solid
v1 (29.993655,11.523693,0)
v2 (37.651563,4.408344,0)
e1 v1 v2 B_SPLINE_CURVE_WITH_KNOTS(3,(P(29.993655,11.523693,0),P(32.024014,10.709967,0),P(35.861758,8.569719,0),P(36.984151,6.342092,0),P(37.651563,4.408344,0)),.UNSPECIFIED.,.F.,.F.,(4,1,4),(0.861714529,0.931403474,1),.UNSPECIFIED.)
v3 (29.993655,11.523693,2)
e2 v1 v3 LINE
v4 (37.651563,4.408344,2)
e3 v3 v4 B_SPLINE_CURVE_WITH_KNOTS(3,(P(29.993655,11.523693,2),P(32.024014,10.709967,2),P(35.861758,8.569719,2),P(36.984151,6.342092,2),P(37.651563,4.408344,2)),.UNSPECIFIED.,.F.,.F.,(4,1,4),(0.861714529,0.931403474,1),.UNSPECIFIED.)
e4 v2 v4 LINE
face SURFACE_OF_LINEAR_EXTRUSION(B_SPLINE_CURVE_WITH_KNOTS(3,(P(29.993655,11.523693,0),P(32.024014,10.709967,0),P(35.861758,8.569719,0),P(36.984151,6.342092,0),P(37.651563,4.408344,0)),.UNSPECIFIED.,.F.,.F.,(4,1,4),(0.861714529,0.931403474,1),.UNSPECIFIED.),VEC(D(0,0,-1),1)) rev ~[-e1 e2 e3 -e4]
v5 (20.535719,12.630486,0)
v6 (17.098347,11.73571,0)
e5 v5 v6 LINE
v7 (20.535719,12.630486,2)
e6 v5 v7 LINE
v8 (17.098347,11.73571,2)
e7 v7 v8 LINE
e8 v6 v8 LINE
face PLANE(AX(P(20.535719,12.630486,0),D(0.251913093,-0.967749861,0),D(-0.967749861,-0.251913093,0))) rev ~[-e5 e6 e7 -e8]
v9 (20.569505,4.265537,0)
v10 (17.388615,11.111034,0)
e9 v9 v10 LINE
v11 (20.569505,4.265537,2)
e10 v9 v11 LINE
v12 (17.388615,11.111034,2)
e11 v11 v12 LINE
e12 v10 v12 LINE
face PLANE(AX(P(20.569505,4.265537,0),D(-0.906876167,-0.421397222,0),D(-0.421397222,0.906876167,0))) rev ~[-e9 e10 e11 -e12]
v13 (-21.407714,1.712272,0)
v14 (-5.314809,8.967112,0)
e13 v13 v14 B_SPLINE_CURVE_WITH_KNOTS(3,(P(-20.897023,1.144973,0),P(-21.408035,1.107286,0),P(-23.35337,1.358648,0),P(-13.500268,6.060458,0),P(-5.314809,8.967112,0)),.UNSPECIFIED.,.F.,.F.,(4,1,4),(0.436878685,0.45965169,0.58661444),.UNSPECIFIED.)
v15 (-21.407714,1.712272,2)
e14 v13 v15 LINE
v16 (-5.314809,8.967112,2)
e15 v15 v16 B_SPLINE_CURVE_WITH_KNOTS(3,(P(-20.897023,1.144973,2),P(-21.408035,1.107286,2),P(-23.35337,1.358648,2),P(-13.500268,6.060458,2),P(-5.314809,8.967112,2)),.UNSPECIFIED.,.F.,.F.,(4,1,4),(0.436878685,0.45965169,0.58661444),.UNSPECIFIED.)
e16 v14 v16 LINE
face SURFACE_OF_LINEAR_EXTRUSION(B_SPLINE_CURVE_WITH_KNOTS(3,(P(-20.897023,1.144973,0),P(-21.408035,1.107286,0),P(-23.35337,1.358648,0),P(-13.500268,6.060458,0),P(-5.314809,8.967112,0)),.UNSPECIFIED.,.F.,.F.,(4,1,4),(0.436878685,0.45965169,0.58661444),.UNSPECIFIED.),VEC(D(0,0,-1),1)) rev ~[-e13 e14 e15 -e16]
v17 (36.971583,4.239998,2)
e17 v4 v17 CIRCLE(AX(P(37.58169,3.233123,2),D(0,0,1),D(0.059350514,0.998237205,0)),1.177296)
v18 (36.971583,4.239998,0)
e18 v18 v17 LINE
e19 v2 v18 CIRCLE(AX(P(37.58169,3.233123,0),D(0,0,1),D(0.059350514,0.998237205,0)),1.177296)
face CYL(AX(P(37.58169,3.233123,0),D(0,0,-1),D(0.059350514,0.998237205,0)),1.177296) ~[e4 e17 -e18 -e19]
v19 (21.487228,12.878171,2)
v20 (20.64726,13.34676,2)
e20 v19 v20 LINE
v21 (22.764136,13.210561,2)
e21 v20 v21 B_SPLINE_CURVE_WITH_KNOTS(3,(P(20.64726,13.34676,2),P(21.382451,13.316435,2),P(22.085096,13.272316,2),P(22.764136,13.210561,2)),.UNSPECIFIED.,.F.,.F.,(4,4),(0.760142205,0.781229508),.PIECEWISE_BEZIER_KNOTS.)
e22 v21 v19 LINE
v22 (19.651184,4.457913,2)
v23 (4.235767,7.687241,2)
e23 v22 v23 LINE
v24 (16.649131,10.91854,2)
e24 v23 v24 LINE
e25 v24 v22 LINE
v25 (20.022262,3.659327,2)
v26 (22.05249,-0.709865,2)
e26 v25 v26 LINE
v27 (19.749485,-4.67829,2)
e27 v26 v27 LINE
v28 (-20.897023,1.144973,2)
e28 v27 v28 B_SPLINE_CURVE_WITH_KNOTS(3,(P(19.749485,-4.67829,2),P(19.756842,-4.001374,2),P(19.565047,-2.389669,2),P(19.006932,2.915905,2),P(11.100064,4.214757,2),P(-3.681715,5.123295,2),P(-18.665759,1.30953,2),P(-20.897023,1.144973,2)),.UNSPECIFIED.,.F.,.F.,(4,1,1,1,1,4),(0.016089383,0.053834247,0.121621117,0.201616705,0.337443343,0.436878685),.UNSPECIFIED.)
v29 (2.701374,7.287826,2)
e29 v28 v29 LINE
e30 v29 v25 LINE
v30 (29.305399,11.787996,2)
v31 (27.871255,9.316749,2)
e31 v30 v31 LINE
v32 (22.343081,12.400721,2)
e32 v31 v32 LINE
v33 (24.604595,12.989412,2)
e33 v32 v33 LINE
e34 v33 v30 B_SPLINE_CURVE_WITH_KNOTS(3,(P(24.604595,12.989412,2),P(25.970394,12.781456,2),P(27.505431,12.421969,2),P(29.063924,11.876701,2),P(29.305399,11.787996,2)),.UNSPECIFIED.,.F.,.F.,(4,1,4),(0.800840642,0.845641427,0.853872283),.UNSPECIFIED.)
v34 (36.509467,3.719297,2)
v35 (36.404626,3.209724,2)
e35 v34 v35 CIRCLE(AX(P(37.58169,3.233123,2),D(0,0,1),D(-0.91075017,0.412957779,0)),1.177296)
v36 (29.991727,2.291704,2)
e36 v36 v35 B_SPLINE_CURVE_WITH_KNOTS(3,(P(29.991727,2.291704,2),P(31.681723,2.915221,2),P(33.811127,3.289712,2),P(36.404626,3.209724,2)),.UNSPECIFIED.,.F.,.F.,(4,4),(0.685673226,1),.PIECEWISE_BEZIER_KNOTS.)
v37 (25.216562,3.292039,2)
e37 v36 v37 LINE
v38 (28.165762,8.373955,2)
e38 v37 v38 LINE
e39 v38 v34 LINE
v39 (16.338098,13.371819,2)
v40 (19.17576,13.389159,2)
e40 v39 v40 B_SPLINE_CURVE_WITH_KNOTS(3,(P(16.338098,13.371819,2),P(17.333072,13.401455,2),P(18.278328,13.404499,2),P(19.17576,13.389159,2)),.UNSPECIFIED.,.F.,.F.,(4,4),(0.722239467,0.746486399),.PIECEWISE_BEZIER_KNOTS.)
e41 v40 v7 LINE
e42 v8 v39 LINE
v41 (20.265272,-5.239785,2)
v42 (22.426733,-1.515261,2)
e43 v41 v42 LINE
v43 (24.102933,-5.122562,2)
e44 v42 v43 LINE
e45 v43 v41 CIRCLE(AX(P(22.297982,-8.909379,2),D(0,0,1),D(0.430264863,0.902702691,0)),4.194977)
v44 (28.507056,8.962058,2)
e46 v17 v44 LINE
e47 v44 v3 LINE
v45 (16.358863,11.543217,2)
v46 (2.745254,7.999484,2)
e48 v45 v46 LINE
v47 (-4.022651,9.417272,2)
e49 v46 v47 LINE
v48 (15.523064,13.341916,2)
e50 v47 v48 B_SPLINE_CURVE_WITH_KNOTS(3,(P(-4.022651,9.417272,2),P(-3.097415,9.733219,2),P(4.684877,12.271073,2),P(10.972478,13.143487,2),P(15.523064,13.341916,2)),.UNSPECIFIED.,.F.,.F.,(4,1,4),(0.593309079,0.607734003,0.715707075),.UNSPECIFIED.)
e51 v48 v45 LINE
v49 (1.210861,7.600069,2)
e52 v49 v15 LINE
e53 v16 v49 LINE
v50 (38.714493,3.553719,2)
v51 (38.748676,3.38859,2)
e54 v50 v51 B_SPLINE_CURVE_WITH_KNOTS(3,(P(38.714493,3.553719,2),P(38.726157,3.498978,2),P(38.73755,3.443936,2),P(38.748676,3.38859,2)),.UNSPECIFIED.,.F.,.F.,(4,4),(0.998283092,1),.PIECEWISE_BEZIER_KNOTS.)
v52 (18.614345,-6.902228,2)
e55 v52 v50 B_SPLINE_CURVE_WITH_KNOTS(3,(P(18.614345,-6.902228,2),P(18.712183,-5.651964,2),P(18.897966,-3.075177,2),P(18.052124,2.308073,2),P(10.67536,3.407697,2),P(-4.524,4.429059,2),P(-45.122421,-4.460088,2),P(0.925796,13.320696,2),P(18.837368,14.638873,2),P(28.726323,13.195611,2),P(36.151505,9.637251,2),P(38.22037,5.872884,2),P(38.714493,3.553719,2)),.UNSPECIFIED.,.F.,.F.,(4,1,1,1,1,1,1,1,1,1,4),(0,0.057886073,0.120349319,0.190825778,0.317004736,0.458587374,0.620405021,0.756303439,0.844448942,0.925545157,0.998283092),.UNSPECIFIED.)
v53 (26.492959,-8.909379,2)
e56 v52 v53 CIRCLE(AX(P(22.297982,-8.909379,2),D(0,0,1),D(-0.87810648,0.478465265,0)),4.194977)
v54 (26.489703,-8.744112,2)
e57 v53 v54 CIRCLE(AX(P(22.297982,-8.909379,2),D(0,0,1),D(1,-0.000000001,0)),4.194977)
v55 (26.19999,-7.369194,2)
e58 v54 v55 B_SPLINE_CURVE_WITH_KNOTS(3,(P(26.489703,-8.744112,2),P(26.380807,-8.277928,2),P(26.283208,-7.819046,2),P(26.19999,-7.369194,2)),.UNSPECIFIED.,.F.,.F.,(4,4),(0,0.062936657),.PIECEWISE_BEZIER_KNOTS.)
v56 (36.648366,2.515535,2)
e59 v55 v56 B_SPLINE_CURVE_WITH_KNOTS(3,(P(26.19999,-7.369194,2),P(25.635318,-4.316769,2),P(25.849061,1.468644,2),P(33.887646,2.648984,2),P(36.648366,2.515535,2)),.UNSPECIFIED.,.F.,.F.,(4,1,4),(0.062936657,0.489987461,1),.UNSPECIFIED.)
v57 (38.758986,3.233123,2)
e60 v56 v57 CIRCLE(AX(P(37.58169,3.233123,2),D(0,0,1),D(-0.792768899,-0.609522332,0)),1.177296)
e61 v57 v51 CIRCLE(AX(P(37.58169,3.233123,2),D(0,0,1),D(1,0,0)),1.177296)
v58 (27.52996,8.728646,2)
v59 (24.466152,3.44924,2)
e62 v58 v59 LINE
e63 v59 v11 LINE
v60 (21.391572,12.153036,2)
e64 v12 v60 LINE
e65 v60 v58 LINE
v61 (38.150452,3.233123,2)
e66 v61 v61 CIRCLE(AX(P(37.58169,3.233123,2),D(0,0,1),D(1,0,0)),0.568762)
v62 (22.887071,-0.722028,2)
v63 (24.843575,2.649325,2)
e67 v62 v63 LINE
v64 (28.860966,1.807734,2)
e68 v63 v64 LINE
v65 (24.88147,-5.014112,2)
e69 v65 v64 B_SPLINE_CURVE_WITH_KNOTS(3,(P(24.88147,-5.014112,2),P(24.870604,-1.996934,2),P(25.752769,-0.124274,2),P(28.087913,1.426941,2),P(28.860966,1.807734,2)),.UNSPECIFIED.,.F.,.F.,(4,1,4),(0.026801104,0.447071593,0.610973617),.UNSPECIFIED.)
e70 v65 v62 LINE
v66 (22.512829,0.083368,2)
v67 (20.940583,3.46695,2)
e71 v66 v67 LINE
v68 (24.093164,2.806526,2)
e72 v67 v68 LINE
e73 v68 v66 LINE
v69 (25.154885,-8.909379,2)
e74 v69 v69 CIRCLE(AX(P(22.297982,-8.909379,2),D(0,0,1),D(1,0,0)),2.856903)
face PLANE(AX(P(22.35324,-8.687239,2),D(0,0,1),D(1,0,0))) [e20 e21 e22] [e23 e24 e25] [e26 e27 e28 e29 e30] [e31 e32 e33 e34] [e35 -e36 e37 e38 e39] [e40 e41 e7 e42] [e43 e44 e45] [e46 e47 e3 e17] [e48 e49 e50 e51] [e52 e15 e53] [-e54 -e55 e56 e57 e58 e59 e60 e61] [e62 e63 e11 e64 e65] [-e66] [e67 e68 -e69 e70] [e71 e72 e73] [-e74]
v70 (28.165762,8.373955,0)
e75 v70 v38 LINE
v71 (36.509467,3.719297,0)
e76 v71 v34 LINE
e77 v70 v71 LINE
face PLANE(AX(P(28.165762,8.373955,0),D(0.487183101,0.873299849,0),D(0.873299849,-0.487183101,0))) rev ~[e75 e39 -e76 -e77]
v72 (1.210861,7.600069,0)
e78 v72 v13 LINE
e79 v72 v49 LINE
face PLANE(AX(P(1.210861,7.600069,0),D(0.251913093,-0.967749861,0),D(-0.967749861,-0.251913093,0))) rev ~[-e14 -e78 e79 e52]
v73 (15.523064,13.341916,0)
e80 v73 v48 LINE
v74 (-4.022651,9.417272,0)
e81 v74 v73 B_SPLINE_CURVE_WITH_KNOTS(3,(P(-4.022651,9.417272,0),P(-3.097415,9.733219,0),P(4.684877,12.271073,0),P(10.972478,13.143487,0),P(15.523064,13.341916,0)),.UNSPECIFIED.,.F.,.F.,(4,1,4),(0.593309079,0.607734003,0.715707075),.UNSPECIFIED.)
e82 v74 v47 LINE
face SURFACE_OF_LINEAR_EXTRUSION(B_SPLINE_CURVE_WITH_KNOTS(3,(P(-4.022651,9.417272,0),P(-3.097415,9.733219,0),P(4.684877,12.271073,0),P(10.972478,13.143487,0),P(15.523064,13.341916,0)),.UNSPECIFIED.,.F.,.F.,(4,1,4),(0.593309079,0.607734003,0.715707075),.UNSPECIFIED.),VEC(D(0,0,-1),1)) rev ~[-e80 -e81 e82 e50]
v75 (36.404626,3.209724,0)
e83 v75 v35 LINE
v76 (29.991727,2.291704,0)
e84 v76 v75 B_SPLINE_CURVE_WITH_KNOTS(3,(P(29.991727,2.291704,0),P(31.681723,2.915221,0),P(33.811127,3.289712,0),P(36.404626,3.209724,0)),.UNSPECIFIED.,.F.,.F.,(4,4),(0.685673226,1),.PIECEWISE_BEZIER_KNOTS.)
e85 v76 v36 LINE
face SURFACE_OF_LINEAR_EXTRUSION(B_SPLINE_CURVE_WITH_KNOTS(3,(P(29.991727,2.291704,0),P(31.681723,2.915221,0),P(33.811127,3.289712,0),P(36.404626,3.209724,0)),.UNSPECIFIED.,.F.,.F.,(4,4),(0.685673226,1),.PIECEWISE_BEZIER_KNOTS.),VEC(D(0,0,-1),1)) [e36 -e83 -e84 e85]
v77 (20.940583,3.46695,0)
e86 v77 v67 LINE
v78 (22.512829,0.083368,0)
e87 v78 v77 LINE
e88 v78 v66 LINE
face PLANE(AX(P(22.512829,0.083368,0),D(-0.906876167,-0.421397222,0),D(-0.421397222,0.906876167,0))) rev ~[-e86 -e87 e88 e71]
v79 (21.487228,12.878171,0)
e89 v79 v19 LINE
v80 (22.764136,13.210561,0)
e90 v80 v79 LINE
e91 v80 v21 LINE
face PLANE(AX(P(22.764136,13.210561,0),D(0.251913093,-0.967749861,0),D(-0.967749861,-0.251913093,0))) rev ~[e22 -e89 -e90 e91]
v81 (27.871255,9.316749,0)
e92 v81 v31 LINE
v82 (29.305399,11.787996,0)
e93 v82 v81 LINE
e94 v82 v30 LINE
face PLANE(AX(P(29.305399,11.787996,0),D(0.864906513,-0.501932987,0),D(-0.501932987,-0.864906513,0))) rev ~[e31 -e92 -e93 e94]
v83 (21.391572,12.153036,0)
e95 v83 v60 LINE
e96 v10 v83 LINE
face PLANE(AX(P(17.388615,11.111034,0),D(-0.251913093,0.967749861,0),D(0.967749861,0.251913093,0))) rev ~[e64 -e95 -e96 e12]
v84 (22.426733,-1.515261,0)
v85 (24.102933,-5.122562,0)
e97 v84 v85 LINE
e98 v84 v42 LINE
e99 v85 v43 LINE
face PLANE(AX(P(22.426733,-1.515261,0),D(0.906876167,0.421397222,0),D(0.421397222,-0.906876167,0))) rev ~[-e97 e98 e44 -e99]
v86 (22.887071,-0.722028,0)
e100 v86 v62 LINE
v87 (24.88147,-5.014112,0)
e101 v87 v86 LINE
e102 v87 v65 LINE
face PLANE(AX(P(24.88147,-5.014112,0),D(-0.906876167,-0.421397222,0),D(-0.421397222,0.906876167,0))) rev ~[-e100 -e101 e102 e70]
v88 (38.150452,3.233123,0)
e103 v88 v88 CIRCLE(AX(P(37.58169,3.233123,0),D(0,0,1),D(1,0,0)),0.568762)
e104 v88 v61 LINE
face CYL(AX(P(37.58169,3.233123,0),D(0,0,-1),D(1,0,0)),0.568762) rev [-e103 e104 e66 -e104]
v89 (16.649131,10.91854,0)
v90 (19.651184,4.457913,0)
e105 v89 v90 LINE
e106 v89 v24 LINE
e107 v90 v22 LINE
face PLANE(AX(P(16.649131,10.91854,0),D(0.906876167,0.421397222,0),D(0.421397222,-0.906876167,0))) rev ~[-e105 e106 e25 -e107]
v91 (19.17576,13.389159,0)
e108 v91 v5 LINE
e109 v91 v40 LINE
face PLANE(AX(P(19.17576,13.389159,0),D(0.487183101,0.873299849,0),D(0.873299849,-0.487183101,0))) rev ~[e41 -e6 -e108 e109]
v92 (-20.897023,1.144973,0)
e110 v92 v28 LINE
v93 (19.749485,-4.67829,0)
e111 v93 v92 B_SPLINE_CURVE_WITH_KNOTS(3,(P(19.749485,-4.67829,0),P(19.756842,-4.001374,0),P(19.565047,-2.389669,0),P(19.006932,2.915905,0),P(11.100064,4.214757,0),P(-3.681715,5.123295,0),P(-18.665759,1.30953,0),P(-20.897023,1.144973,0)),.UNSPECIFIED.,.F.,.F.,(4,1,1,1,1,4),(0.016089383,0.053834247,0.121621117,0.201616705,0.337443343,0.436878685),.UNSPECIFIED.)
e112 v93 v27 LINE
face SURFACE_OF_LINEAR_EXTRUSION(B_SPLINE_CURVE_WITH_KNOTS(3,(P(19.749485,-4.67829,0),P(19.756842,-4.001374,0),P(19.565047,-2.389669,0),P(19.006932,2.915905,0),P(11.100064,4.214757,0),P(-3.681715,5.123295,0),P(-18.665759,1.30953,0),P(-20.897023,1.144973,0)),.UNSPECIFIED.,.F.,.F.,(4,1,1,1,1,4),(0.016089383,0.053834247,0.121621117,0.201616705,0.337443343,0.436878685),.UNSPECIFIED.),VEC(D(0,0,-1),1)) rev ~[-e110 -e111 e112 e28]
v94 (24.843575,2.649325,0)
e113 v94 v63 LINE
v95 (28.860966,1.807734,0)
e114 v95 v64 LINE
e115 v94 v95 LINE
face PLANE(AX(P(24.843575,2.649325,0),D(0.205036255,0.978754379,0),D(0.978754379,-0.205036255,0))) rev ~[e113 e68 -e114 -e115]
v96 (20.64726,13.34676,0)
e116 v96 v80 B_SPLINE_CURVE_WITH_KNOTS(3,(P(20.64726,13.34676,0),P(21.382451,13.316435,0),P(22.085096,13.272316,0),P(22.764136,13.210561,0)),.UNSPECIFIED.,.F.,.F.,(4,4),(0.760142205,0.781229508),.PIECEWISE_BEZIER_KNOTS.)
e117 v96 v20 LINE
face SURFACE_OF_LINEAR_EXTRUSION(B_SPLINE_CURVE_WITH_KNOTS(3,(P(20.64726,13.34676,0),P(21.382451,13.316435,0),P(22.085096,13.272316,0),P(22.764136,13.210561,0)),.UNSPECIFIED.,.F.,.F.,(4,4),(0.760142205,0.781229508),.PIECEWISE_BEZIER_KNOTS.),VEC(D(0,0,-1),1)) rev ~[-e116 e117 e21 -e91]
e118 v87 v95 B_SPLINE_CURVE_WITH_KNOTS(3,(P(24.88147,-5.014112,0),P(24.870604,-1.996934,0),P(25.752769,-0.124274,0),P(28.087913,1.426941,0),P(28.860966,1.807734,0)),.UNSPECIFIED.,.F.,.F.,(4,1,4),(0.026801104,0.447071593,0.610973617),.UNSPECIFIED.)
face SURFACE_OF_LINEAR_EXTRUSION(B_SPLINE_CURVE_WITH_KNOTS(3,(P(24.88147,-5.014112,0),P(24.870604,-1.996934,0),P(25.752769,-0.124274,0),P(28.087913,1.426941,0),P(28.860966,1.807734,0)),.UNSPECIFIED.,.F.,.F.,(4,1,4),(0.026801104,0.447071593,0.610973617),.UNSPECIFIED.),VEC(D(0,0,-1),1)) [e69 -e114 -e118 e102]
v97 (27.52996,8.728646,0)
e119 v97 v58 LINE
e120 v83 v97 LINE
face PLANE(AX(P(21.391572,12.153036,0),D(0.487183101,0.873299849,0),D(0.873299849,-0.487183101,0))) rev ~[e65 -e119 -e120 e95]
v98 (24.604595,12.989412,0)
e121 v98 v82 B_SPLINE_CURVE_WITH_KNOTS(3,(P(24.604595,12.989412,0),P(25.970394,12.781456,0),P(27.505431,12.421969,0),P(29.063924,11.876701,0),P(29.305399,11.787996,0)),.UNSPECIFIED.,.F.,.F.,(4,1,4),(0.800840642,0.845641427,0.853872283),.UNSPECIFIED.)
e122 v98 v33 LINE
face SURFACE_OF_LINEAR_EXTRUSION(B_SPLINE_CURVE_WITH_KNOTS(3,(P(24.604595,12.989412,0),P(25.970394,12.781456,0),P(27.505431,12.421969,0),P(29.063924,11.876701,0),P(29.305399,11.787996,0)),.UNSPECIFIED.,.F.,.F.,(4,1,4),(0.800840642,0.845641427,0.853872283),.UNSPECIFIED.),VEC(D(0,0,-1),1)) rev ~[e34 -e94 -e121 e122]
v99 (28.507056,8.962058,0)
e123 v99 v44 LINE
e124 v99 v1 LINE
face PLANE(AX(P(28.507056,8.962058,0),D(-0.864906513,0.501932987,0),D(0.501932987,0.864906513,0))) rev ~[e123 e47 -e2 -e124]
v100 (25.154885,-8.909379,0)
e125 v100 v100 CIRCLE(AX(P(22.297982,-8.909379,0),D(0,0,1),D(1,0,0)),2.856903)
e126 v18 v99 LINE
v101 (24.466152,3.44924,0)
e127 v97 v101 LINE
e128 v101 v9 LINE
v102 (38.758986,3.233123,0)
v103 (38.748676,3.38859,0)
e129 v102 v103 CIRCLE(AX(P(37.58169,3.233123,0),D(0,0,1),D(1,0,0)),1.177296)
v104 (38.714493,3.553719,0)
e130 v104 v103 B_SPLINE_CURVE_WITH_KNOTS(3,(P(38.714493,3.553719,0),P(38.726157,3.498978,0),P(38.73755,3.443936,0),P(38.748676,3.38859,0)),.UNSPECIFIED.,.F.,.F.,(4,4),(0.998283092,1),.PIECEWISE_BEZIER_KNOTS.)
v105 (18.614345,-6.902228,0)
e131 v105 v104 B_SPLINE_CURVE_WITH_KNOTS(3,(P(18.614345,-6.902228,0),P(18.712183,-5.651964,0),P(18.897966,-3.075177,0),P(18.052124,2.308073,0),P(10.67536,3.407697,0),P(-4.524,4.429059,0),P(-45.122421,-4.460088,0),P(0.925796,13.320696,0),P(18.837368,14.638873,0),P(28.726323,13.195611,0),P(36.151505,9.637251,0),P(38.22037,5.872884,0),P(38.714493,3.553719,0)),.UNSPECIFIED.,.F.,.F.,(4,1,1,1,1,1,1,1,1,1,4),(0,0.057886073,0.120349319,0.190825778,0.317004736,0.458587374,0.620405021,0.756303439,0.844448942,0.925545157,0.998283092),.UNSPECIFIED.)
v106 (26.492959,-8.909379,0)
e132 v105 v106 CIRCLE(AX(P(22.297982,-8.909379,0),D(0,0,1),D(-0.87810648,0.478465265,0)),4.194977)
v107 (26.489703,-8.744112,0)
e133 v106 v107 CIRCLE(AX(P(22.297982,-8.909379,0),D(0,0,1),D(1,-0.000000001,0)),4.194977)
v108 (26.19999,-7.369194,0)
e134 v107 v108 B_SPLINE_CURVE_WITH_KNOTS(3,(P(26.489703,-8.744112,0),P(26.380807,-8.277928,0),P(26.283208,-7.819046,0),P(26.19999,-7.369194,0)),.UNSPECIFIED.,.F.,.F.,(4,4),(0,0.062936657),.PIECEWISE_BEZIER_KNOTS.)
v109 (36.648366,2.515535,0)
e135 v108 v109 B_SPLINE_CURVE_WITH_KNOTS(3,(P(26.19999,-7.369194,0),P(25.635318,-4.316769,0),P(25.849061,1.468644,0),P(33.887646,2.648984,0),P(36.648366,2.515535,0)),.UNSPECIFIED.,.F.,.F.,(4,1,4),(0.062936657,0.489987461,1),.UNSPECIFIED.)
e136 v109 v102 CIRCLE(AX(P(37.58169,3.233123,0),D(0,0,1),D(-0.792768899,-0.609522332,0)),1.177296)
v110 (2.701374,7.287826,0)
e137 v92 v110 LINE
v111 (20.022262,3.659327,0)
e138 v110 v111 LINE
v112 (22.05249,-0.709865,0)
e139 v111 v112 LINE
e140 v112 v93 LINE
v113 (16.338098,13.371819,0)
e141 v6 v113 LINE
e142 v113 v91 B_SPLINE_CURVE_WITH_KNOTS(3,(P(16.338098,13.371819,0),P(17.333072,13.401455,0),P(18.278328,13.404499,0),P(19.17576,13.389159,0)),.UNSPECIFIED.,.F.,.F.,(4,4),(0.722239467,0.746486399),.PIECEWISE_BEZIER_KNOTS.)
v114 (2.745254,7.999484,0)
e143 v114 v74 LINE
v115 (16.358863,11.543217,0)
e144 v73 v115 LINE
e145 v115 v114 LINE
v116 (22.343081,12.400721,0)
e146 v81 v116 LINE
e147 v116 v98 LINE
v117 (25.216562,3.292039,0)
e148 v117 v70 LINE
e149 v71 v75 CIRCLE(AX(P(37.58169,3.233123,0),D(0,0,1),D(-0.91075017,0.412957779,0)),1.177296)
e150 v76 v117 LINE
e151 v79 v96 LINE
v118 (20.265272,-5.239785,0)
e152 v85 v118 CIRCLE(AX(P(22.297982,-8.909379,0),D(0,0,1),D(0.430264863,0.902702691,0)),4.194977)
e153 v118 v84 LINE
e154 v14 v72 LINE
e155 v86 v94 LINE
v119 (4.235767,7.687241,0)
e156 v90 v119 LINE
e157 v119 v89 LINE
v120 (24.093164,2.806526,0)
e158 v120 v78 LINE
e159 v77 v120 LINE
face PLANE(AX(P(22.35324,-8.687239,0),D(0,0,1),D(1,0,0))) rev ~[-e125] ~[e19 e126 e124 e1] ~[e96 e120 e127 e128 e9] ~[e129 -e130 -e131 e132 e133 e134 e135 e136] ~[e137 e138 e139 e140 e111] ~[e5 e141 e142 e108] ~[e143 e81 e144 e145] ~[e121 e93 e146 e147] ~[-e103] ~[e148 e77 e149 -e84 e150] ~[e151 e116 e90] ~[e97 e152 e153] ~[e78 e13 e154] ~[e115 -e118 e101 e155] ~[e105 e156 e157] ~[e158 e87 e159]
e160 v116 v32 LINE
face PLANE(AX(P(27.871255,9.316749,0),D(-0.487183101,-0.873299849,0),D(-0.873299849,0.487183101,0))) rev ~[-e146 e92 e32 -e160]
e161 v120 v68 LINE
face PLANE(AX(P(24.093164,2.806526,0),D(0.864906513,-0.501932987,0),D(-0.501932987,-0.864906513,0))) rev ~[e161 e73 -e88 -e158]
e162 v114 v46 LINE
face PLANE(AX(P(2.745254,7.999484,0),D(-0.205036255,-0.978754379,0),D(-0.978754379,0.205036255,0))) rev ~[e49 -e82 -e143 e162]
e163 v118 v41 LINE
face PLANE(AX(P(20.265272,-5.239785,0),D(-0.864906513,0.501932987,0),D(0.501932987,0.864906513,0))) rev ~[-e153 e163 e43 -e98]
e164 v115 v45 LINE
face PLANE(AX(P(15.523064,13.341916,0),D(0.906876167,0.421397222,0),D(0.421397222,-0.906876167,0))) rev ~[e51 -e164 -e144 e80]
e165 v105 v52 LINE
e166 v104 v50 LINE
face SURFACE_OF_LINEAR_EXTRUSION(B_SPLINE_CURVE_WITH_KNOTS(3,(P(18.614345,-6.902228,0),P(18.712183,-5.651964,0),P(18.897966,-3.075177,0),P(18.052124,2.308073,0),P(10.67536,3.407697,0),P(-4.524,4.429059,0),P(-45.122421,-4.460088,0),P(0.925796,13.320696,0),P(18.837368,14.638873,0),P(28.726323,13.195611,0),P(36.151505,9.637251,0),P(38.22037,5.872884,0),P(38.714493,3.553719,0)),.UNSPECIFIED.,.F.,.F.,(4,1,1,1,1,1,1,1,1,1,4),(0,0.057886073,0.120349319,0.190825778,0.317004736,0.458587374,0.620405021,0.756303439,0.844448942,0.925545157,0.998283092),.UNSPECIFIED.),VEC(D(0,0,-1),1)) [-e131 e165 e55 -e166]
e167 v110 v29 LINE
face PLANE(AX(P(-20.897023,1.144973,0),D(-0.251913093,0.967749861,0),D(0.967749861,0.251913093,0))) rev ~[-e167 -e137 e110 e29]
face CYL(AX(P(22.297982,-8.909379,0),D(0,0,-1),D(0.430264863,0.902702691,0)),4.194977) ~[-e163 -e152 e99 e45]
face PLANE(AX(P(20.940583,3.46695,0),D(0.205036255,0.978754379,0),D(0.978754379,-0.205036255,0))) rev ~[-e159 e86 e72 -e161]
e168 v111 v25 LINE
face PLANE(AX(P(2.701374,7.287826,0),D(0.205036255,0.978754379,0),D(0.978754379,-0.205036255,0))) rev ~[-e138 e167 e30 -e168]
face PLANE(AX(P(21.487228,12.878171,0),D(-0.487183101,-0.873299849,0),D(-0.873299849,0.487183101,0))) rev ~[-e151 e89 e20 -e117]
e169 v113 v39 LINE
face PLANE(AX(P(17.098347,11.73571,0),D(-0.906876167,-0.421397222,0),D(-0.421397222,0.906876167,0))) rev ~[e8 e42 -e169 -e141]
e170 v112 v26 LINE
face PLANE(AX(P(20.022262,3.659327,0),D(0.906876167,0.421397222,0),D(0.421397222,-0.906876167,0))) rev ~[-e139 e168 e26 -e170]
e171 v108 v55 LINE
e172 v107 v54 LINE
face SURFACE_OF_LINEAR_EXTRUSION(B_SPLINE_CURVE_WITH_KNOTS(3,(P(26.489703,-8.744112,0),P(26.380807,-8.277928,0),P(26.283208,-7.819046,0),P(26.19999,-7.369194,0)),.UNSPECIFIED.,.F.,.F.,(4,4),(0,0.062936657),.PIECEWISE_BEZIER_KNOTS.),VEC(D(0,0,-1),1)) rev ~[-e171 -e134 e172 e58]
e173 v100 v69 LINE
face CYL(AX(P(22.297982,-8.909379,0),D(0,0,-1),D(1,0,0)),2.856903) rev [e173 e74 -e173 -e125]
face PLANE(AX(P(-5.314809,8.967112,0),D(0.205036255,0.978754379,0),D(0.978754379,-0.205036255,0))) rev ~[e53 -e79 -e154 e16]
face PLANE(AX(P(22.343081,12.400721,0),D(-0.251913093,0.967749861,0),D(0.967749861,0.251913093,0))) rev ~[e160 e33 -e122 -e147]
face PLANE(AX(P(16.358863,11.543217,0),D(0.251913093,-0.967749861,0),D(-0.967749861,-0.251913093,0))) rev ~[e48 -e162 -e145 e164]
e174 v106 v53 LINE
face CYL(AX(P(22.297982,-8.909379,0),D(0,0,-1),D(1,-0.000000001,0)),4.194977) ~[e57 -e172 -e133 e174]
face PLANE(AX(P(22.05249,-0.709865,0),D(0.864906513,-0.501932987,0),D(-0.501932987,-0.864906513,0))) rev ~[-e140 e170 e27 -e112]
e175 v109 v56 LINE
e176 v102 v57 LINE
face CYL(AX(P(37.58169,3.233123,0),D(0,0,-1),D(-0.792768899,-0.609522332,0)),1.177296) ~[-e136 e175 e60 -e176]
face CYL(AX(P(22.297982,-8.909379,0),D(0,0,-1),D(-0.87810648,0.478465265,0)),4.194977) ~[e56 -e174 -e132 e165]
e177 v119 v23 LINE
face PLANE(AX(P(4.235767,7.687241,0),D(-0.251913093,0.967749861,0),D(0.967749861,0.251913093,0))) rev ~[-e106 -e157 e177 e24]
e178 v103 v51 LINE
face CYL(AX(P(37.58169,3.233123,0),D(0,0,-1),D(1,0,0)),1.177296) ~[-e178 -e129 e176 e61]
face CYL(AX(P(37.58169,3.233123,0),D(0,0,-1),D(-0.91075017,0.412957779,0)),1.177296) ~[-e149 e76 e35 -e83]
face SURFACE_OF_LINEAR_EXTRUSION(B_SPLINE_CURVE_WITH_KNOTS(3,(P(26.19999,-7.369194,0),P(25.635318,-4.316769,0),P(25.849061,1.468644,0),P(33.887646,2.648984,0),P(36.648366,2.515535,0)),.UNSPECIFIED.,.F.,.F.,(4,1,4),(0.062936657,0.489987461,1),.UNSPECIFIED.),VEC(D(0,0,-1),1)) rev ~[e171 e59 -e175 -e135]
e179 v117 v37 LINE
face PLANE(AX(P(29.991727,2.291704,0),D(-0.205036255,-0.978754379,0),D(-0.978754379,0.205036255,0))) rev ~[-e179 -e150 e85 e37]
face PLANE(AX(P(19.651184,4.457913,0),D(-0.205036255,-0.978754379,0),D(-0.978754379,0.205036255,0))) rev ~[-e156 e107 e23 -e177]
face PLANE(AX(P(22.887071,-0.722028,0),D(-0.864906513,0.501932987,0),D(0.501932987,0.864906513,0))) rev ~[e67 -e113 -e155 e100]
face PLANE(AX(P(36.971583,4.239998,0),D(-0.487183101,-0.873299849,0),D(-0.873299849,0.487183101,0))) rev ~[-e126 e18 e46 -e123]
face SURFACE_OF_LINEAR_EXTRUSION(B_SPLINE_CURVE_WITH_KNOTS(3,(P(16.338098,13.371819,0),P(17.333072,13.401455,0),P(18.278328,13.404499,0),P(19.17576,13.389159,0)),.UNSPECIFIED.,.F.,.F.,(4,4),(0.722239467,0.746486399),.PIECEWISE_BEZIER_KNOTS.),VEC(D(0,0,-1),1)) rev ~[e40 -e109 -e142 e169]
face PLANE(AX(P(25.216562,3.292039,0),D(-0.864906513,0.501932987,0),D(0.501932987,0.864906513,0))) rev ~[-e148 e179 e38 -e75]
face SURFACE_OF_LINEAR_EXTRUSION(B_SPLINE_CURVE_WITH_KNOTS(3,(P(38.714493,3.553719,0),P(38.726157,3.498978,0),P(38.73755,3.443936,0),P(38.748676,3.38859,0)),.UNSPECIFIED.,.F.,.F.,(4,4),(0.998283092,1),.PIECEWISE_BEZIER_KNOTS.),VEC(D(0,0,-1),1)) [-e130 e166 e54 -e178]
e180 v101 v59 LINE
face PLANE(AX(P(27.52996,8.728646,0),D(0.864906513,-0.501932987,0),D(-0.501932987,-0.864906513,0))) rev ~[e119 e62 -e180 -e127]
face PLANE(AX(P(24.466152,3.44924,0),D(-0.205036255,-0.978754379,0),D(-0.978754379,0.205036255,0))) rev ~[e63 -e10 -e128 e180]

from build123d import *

# Parameters (mm, degrees)
F0_R     = 2.8569030584
F0_R_2   = 0.5687620191
F1_DEPTH = 2


with BuildPart() as f1:
    # F0 (on Top) → F1 (new body)
    with BuildSketch(Plane.XY):
        with BuildLine():
            ThreePointArc((18.6143453266, -6.9022281795), (21.2623513874, -12.9745118473), (26.4929594828, -8.9093791321))
            ThreePointArc((26.4929594828, -8.9093791321), (26.4921452233, -8.8267296466), (26.4897027608, -8.7441122463))
            add(Edge.make_bspline(
                [(26.4897027608, -8.7441122463), (26.3808069457, -8.2779284114), (26.2832084192, -7.8190455027), (26.19998991, -7.3691939883)],
                knots=[0, 0, 0, 0, 0.0629366571, 0.0629366571, 0.0629366571, 0.0629366571], degree=3))
            ThreePointArc((26.19998991, -7.3691939883), (25.6624241737, -6.4037126078), (24.8913964685, -5.6121019113))
            ThreePointArc((24.8913964685, -5.6121019113), (24.5107445609, -5.3454603018), (24.1029334844, -5.1225617856))
            ThreePointArc((24.1029334844, -5.1225617856), (22.1699046652, -4.7163574074), (20.2652718009, -5.2397846378))
            ThreePointArc((20.2652718009, -5.2397846378), (19.9718559358, -5.4183947487), (19.6940368733, -5.6204120999))
            ThreePointArc((19.6940368733, -5.6204120999), (19.0895268698, -6.2068525575), (18.6143453266, -6.9022281795))
        make_face()
        with Locations((22.2979821265, -8.9093791321)):
            Circle(F0_R, mode=Mode.SUBTRACT)
        with BuildLine():
            add(Edge.make_bspline(
                [(18.6143453266, -6.9022281795), (18.7121831157, -5.6519642111), (18.8979663666, -3.0751767638), (18.0521238103, 2.3080731901), (10.6753603097, 3.40769663), (-4.5239997149, 4.4290592775), (-45.1224210105, -4.4600882211), (0.9257955515, 13.3206958024), (18.8373683498, 14.6388730283), (28.7263227344, 13.195610608), (36.1515053478, 9.6372506878), (38.2203703609, 5.8728841517), (38.7144933658, 3.5537192718)],
                knots=[0, 0, 0, 0, 0.0578860731, 0.1203493189, 0.1908257785, 0.3170047365, 0.4585873736, 0.6204050209, 0.7563034386, 0.8444489417, 0.9255451565, 0.9982830918, 0.9982830918, 0.9982830918, 0.9982830918], degree=3))
            ThreePointArc((18.6143453266, -6.9022281795), (19.0895268698, -6.2068525575), (19.6940368733, -5.6204120999))
            add(Edge.make_bspline(
                [(19.6940368733, -5.6204120999), (19.7294126967, -5.2736396873), (19.7463495774, -4.9668373505), (19.7494853041, -4.6782903931)],
                knots=[0, 0, 0, 0, 0.0160893834, 0.0160893834, 0.0160893834, 0.0160893834], degree=3))
            add(Edge.make_bspline(
                [(19.7494853041, -4.6782903931), (19.7568415573, -4.0013741193), (19.5650467233, -2.3896691142), (19.0069317431, 2.9159053592), (11.1000637201, 4.2147569379), (-3.6817146158, 5.1232951288), (-18.6657590106, 1.3095300514), (-20.8970234036, 1.144973392)],
                knots=[0.0160893834, 0.0160893834, 0.0160893834, 0.0160893834, 0.0538342467, 0.1216211169, 0.2016167055, 0.3374433435, 0.4368786852, 0.4368786852, 0.4368786852, 0.4368786852], degree=3))
            add(Edge.make_bspline(
                [(-20.8970234036, 1.144973392), (-21.4080348071, 1.1072860924), (-21.9060180106, 1.171631934), (-21.6308491069, 1.5276157978), (-21.4077144328, 1.7122718479)],
                knots=[0.4368786852, 0.4368786852, 0.4368786852, 0.4368786852, 0.4596516895, 0.4752092971, 0.4752092971, 0.4752092971, 0.4752092971], degree=3))
            add(Edge.make_bspline(
                [(-21.4077144328, 1.7122718479), (-19.809888409, 3.0345595806), (-12.4972485391, 6.4166302378), (-5.314808763, 8.967111988)],
                knots=[0.4752092971, 0.4752092971, 0.4752092971, 0.4752092971, 0.58661444, 0.58661444, 0.58661444, 0.58661444], degree=3))
            add(Edge.make_bspline(
                [(-5.314808763, 8.967111988), (-4.883196395, 9.1203773828), (-4.4520541971, 9.2706397974), (-4.0226505547, 9.4172717956)],
                knots=[0.58661444, 0.58661444, 0.58661444, 0.58661444, 0.5933090785, 0.5933090785, 0.5933090785, 0.5933090785], degree=3))
            add(Edge.make_bspline(
                [(-4.0226505547, 9.4172717956), (-3.0974153373, 9.7332194853), (4.6848771922, 12.2710727969), (10.972477505, 13.1434869265), (15.5230635358, 13.3419158257)],
                knots=[0.5933090785, 0.5933090785, 0.5933090785, 0.5933090785, 0.6077340033, 0.7157070746, 0.7157070746, 0.7157070746, 0.7157070746], degree=3))
            add(Edge.make_bspline(
                [(15.5230635358, 13.3419158257), (15.798374902, 13.3539208139), (16.0700406201, 13.3638351671), (16.338097703, 13.3718194012)],
                knots=[0.7157070746, 0.7157070746, 0.7157070746, 0.7157070746, 0.7222394671, 0.7222394671, 0.7222394671, 0.7222394671], degree=3))
            add(Edge.make_bspline(
                [(16.338097703, 13.3718194012), (17.3330718747, 13.4014552784), (18.2783282344, 13.404499025), (19.1757595971, 13.3891592895)],
                knots=[0.7222394671, 0.7222394671, 0.7222394671, 0.7222394671, 0.7464863986, 0.7464863986, 0.7464863986, 0.7464863986], degree=3))
            add(Edge.make_bspline(
                [(19.1757595971, 13.3891592895), (19.3952832417, 13.3854069862), (19.8941255144, 13.3742350784), (20.3779449816, 13.3578689943), (20.6472598116, 13.3467602351)],
                knots=[0.7464863986, 0.7464863986, 0.7464863986, 0.7464863986, 0.7524175205, 0.7601422048, 0.7601422048, 0.7601422048, 0.7601422048], degree=3))
            add(Edge.make_bspline(
                [(20.6472598116, 13.3467602351), (21.3824514921, 13.3164348819), (22.0850961027, 13.2723159936), (22.7641356867, 13.2105606533)],
                knots=[0.7601422048, 0.7601422048, 0.7601422048, 0.7601422048, 0.7812295083, 0.7812295083, 0.7812295083, 0.7812295083], degree=3))
            add(Edge.make_bspline(
                [(22.7641356867, 13.2105606533), (23.3956405969, 13.1531283598), (24.0067296425, 13.0804423909), (24.6045953536, 12.9894116975)],
                knots=[0.7812295083, 0.7812295083, 0.7812295083, 0.7812295083, 0.8008406416, 0.8008406416, 0.8008406416, 0.8008406416], degree=3))
            add(Edge.make_bspline(
                [(24.6045953536, 12.9894116975), (25.9703937056, 12.7814560164), (27.5054305947, 12.4219692547), (29.0639236491, 11.8767009203), (29.3053994879, 11.7879962218)],
                knots=[0.8008406416, 0.8008406416, 0.8008406416, 0.8008406416, 0.8456414271, 0.853872283, 0.853872283, 0.853872283, 0.853872283], degree=3))
            add(Edge.make_bspline(
                [(29.3053994879, 11.7879962218), (29.5354743503, 11.7034796035), (29.7651748108, 11.6152632358), (29.9936554206, 11.5236929218)],
                knots=[0.853872283, 0.853872283, 0.853872283, 0.853872283, 0.8617145294, 0.8617145294, 0.8617145294, 0.8617145294], degree=3))
            add(Edge.make_bspline(
                [(29.9936554206, 11.5236929218), (32.0240140196, 10.7099670895), (35.8617576541, 8.5697192395), (36.9841513063, 6.3420919269), (37.6515627816, 4.4083440595)],
                knots=[0.8617145294, 0.8617145294, 0.8617145294, 0.8617145294, 0.9314034739, 1, 1, 1, 1], degree=3))
            ThreePointArc((37.6515627816, 4.4083440595), (38.3193913399, 4.1506320427), (38.7144933658, 3.5537192718))
        make_face()
        with BuildLine():
            add(Edge.make_bspline(
                [(38.7144933658, 3.5537192718), (38.7261566587, 3.4989776405), (38.7375502322, 3.443935568), (38.7486755157, 3.3885903794)],
                knots=[0.9982830918, 0.9982830918, 0.9982830918, 0.9982830918, 1, 1, 1, 1], degree=3))
            ThreePointArc((38.7144933658, 3.5537192718), (38.3193913399, 4.1506320427), (37.6515627816, 4.4083440595))
            ThreePointArc((37.6515627816, 4.4083440595), (37.2987617582, 4.3759171964), (36.9715830014, 4.2399976441))
            ThreePointArc((36.9715830014, 4.2399976441), (36.7011555962, 4.0145872003), (36.5094670744, 3.7192969019))
            ThreePointArc((36.5094670744, 3.7192969019), (36.4285469243, 3.4703739206), (36.4046261669, 3.2097237362))
            ThreePointArc((36.4046261669, 3.2097237362), (36.4708755476, 2.8431002419), (36.6483659594, 2.5155351021))
            ThreePointArc((36.6483659594, 2.5155351021), (37.9606538319, 2.1184879035), (38.7589857096, 3.2331233378))
            ThreePointArc((38.7589857096, 3.2331233378), (38.7564053333, 3.3110276078), (38.7486755157, 3.3885903794))
        make_face()
        with Locations((37.5816896558, 3.2331233378)):
            Circle(F0_R_2, mode=Mode.SUBTRACT)
        with BuildLine():
            ThreePointArc((24.8913964685, -5.6121019113), (25.6624241737, -6.4037126078), (26.19998991, -7.3691939883))
            add(Edge.make_bspline(
                [(26.19998991, -7.3691939883), (25.6353184944, -4.3167685824), (25.8490612072, 1.4686443008), (33.8876455579, 2.6489840198), (36.6483659594, 2.5155351021)],
                knots=[0.0629366571, 0.0629366571, 0.0629366571, 0.0629366571, 0.4899874614, 1, 1, 1, 1], degree=3))
            ThreePointArc((36.6483659594, 2.5155351021), (36.4708755476, 2.8431002419), (36.4046261669, 3.2097237362))
            add(Edge.make_bspline(
                [(29.9917272827, 2.291704047), (31.6817230026, 2.9152205), (33.8111267707, 3.2897124254), (36.4046261669, 3.2097237362)],
                knots=[0.6856732256, 0.6856732256, 0.6856732256, 0.6856732256, 1, 1, 1, 1], degree=3))
            add(Edge.make_bspline(
                [(28.86096562, 1.8077337718), (29.2132904964, 1.9812830351), (29.5901006, 2.1435256572), (29.9917272827, 2.291704047)],
                knots=[0.6109736165, 0.6109736165, 0.6109736165, 0.6109736165, 0.6856732256, 0.6856732256, 0.6856732256, 0.6856732256], degree=3))
            add(Edge.make_bspline(
                [(24.8814697385, -5.0141121595), (24.8706036434, -1.9969336829), (25.7527692295, -0.1242736331), (28.0879125784, 1.4269409443), (28.86096562, 1.8077337718)],
                knots=[0.026801104, 0.026801104, 0.026801104, 0.026801104, 0.4470715934, 0.6109736165, 0.6109736165, 0.6109736165, 0.6109736165], degree=3))
            add(Edge.make_bspline(
                [(24.8913964685, -5.6121019113), (24.8854807984, -5.4057208357), (24.8821626812, -5.2065208967), (24.8814697385, -5.0141121595)],
                knots=[0, 0, 0, 0, 0.026801104, 0.026801104, 0.026801104, 0.026801104], degree=3))
        make_face()
        with BuildLine():
            add(Edge.make_bspline(
                [(19.6940368733, -5.6204120999), (19.7294126967, -5.2736396873), (19.7463495774, -4.9668373505), (19.7494853041, -4.6782903931)],
                knots=[0, 0, 0, 0, 0.0160893834, 0.0160893834, 0.0160893834, 0.0160893834], degree=3))
            ThreePointArc((19.6940368733, -5.6204120999), (19.9718559358, -5.4183947487), (20.2652718009, -5.2397846378))
            Line((20.2652718009, -5.2397846378), (22.4267325344, -1.5152606144))
            Line((22.4267325344, -1.5152606144), (22.0524900201, -0.7098646623))
            Line((22.0524900201, -0.7098646623), (19.7494853041, -4.6782903931))
        make_face()
        with BuildLine():
            ThreePointArc((24.1029334844, -5.1225617856), (24.5107445609, -5.3454603018), (24.8913964685, -5.6121019113))
            add(Edge.make_bspline(
                [(24.8913964685, -5.6121019113), (24.8854807984, -5.4057208357), (24.8821626812, -5.2065208967), (24.8814697385, -5.0141121595)],
                knots=[0, 0, 0, 0, 0.026801104, 0.026801104, 0.026801104, 0.026801104], degree=3))
            Line((24.8814697385, -5.0141121595), (22.8870711465, -0.7220275043))
            Line((22.8870711465, -0.7220275043), (22.4267325344, -1.5152606144))
            Line((22.4267325344, -1.5152606144), (24.1029334844, -5.1225617856))
        make_face()
        Polygon((22.0524900201, -0.7098646623), (22.4267325344, -1.5152606144), (22.8870711465, -0.7220275043), (22.5128286322, 0.0833684478), align=None)
        Polygon((22.5128286322, 0.0833684478), (22.8870711465, -0.7220275043), (24.8435749107, 2.6493246369), (24.0931642157, 2.8065258732), align=None)
        with BuildLine():
            ThreePointArc((36.5094670744, 3.7192969019), (36.7011555962, 4.0145872003), (36.9715830014, 4.2399976441))
            Line((36.9715830014, 4.2399976441), (28.5070563563, 8.9620577079))
            Line((28.5070563563, 8.9620577079), (28.1657615677, 8.3739551254))
            Line((28.1657615677, 8.3739551254), (36.5094670744, 3.7192969019))
        make_face()
        Polygon((28.1657615677, 8.3739551254), (28.5070563563, 8.9620577079), (27.8712552701, 9.3167486485), (27.5299604815, 8.728646066), align=None)
        with BuildLine():
            Line((28.5070563563, 8.9620577079), (29.9936554206, 11.5236929218))
            add(Edge.make_bspline(
                [(29.3053994879, 11.7879962218), (29.5354743503, 11.7034796035), (29.7651748108, 11.6152632358), (29.9936554206, 11.5236929218)],
                knots=[0.853872283, 0.853872283, 0.853872283, 0.853872283, 0.8617145294, 0.8617145294, 0.8617145294, 0.8617145294], degree=3))
            Line((29.3053994879, 11.7879962218), (27.8712552701, 9.3167486485))
            Line((27.8712552701, 9.3167486485), (28.5070563563, 8.9620577079))
        make_face()
        Polygon((27.5299604815, 8.728646066), (27.8712552701, 9.3167486485), (22.3430813594, 12.400721367), (21.3915721292, 12.1530358411), align=None)
        Polygon((20.0222623693, 3.6593266224), (22.0524900201, -0.7098646623), (22.5128286322, 0.0833684478), (20.940583045, 3.466950439), align=None)
        Polygon((17.3886146699, 11.111033733), (21.3915721292, 12.1530358411), (20.5357192632, 12.6304858874), (17.0983469192, 11.7357101459), align=None)
        with BuildLine():
            Line((22.3430813594, 12.400721367), (24.6045953536, 12.9894116975))
            add(Edge.make_bspline(
                [(22.7641356867, 13.2105606533), (23.3956405969, 13.1531283598), (24.0067296425, 13.0804423909), (24.6045953536, 12.9894116975)],
                knots=[0.7812295083, 0.7812295083, 0.7812295083, 0.7812295083, 0.8008406416, 0.8008406416, 0.8008406416, 0.8008406416], degree=3))
            Line((22.7641356867, 13.2105606533), (21.4872284934, 12.8781714134))
            Line((21.4872284934, 12.8781714134), (22.3430813594, 12.400721367))
        make_face()
        Polygon((21.3915721292, 12.1530358411), (22.3430813594, 12.400721367), (21.4872284934, 12.8781714134), (20.5357192632, 12.6304858874), align=None)
        with BuildLine():
            Line((20.5357192632, 12.6304858874), (21.4872284934, 12.8781714134))
            Line((21.4872284934, 12.8781714134), (20.6472598116, 13.3467602351))
            add(Edge.make_bspline(
                [(19.1757595971, 13.3891592895), (19.3952832417, 13.3854069862), (19.8941255144, 13.3742350784), (20.3779449816, 13.3578689943), (20.6472598116, 13.3467602351)],
                knots=[0.7464863986, 0.7464863986, 0.7464863986, 0.7464863986, 0.7524175205, 0.7601422048, 0.7601422048, 0.7601422048, 0.7601422048], degree=3))
            Line((19.1757595971, 13.3891592895), (20.5357192632, 12.6304858874))
        make_face()
        Polygon((16.3588632726, 11.5432165892), (16.6491310232, 10.9185401763), (17.3886146699, 11.111033733), (17.0983469192, 11.7357101459), align=None)
        with BuildLine():
            add(Edge.make_bspline(
                [(15.5230635358, 13.3419158257), (15.798374902, 13.3539208139), (16.0700406201, 13.3638351671), (16.338097703, 13.3718194012)],
                knots=[0.7157070746, 0.7157070746, 0.7157070746, 0.7157070746, 0.7222394671, 0.7222394671, 0.7222394671, 0.7222394671], degree=3))
            Line((15.5230635358, 13.3419158257), (16.3588632726, 11.5432165892))
            Line((16.3588632726, 11.5432165892), (17.0983469192, 11.7357101459))
            Line((17.0983469192, 11.7357101459), (16.338097703, 13.3718194012))
        make_face()
        with BuildLine():
            add(Edge.make_bspline(
                [(-20.8970234036, 1.144973392), (-21.4080348071, 1.1072860924), (-21.9060180106, 1.171631934), (-21.6308491069, 1.5276157978), (-21.4077144328, 1.7122718479)],
                knots=[0.4368786852, 0.4368786852, 0.4368786852, 0.4368786852, 0.4596516895, 0.4752092971, 0.4752092971, 0.4752092971, 0.4752092971], degree=3))
            Line((-20.8970234036, 1.144973392), (2.7013737661, 7.287826482))
            Line((2.7013737661, 7.287826482), (1.2108609879, 7.600069435))
            Line((1.2108609879, 7.600069435), (-21.4077144328, 1.7122718479))
        make_face()
        Polygon((4.2357665784, 7.687241305), (2.7013737661, 7.287826482), (20.0222623693, 3.6593266224), (19.6511841811, 4.4579127244), align=None)
        Polygon((2.7452538002, 7.999484258), (4.2357665784, 7.687241305), (16.6491310232, 10.9185401763), (16.3588632726, 11.5432165892), align=None)
        with BuildLine():
            add(Edge.make_bspline(
                [(-5.314808763, 8.967111988), (-4.883196395, 9.1203773828), (-4.4520541971, 9.2706397974), (-4.0226505547, 9.4172717956)],
                knots=[0.58661444, 0.58661444, 0.58661444, 0.58661444, 0.5933090785, 0.5933090785, 0.5933090785, 0.5933090785], degree=3))
            Line((-5.314808763, 8.967111988), (1.2108609879, 7.600069435))
            Line((1.2108609879, 7.600069435), (2.7452538002, 7.999484258))
            Line((2.7452538002, 7.999484258), (-4.0226505547, 9.4172717956))
        make_face()
        Polygon((16.6491310232, 10.9185401763), (19.6511841811, 4.4579127244), (20.5695048568, 4.265536541), (17.3886146699, 11.111033733), align=None)
        Polygon((25.2165624833, 3.2920386835), (28.1657615677, 8.3739551254), (27.5299604815, 8.728646066), (24.4661517883, 3.4492399198), align=None)
        with BuildLine():
            Line((24.8435749107, 2.6493246369), (28.86096562, 1.8077337718))
            add(Edge.make_bspline(
                [(28.86096562, 1.8077337718), (29.2132904964, 1.9812830351), (29.5901006, 2.1435256572), (29.9917272827, 2.291704047)],
                knots=[0.6109736165, 0.6109736165, 0.6109736165, 0.6109736165, 0.6856732256, 0.6856732256, 0.6856732256, 0.6856732256], degree=3))
            Line((29.9917272827, 2.291704047), (25.2165624833, 3.2920386835))
            Line((25.2165624833, 3.2920386835), (24.8435749107, 2.6493246369))
        make_face()
        Polygon((20.940583045, 3.466950439), (24.0931642157, 2.8065258732), (24.4661517883, 3.4492399198), (20.5695048568, 4.265536541), align=None)
        Polygon((24.0931642157, 2.8065258732), (24.8435749107, 2.6493246369), (25.2165624833, 3.2920386835), (24.4661517883, 3.4492399198), align=None)
        Polygon((19.6511841811, 4.4579127244), (20.0222623693, 3.6593266224), (20.940583045, 3.466950439), (20.5695048568, 4.265536541), align=None)
        Polygon((1.2108609879, 7.600069435), (2.7013737661, 7.287826482), (4.2357665784, 7.687241305), (2.7452538002, 7.999484258), align=None)
    extrude(amount=F1_DEPTH)


solid = f1.part
